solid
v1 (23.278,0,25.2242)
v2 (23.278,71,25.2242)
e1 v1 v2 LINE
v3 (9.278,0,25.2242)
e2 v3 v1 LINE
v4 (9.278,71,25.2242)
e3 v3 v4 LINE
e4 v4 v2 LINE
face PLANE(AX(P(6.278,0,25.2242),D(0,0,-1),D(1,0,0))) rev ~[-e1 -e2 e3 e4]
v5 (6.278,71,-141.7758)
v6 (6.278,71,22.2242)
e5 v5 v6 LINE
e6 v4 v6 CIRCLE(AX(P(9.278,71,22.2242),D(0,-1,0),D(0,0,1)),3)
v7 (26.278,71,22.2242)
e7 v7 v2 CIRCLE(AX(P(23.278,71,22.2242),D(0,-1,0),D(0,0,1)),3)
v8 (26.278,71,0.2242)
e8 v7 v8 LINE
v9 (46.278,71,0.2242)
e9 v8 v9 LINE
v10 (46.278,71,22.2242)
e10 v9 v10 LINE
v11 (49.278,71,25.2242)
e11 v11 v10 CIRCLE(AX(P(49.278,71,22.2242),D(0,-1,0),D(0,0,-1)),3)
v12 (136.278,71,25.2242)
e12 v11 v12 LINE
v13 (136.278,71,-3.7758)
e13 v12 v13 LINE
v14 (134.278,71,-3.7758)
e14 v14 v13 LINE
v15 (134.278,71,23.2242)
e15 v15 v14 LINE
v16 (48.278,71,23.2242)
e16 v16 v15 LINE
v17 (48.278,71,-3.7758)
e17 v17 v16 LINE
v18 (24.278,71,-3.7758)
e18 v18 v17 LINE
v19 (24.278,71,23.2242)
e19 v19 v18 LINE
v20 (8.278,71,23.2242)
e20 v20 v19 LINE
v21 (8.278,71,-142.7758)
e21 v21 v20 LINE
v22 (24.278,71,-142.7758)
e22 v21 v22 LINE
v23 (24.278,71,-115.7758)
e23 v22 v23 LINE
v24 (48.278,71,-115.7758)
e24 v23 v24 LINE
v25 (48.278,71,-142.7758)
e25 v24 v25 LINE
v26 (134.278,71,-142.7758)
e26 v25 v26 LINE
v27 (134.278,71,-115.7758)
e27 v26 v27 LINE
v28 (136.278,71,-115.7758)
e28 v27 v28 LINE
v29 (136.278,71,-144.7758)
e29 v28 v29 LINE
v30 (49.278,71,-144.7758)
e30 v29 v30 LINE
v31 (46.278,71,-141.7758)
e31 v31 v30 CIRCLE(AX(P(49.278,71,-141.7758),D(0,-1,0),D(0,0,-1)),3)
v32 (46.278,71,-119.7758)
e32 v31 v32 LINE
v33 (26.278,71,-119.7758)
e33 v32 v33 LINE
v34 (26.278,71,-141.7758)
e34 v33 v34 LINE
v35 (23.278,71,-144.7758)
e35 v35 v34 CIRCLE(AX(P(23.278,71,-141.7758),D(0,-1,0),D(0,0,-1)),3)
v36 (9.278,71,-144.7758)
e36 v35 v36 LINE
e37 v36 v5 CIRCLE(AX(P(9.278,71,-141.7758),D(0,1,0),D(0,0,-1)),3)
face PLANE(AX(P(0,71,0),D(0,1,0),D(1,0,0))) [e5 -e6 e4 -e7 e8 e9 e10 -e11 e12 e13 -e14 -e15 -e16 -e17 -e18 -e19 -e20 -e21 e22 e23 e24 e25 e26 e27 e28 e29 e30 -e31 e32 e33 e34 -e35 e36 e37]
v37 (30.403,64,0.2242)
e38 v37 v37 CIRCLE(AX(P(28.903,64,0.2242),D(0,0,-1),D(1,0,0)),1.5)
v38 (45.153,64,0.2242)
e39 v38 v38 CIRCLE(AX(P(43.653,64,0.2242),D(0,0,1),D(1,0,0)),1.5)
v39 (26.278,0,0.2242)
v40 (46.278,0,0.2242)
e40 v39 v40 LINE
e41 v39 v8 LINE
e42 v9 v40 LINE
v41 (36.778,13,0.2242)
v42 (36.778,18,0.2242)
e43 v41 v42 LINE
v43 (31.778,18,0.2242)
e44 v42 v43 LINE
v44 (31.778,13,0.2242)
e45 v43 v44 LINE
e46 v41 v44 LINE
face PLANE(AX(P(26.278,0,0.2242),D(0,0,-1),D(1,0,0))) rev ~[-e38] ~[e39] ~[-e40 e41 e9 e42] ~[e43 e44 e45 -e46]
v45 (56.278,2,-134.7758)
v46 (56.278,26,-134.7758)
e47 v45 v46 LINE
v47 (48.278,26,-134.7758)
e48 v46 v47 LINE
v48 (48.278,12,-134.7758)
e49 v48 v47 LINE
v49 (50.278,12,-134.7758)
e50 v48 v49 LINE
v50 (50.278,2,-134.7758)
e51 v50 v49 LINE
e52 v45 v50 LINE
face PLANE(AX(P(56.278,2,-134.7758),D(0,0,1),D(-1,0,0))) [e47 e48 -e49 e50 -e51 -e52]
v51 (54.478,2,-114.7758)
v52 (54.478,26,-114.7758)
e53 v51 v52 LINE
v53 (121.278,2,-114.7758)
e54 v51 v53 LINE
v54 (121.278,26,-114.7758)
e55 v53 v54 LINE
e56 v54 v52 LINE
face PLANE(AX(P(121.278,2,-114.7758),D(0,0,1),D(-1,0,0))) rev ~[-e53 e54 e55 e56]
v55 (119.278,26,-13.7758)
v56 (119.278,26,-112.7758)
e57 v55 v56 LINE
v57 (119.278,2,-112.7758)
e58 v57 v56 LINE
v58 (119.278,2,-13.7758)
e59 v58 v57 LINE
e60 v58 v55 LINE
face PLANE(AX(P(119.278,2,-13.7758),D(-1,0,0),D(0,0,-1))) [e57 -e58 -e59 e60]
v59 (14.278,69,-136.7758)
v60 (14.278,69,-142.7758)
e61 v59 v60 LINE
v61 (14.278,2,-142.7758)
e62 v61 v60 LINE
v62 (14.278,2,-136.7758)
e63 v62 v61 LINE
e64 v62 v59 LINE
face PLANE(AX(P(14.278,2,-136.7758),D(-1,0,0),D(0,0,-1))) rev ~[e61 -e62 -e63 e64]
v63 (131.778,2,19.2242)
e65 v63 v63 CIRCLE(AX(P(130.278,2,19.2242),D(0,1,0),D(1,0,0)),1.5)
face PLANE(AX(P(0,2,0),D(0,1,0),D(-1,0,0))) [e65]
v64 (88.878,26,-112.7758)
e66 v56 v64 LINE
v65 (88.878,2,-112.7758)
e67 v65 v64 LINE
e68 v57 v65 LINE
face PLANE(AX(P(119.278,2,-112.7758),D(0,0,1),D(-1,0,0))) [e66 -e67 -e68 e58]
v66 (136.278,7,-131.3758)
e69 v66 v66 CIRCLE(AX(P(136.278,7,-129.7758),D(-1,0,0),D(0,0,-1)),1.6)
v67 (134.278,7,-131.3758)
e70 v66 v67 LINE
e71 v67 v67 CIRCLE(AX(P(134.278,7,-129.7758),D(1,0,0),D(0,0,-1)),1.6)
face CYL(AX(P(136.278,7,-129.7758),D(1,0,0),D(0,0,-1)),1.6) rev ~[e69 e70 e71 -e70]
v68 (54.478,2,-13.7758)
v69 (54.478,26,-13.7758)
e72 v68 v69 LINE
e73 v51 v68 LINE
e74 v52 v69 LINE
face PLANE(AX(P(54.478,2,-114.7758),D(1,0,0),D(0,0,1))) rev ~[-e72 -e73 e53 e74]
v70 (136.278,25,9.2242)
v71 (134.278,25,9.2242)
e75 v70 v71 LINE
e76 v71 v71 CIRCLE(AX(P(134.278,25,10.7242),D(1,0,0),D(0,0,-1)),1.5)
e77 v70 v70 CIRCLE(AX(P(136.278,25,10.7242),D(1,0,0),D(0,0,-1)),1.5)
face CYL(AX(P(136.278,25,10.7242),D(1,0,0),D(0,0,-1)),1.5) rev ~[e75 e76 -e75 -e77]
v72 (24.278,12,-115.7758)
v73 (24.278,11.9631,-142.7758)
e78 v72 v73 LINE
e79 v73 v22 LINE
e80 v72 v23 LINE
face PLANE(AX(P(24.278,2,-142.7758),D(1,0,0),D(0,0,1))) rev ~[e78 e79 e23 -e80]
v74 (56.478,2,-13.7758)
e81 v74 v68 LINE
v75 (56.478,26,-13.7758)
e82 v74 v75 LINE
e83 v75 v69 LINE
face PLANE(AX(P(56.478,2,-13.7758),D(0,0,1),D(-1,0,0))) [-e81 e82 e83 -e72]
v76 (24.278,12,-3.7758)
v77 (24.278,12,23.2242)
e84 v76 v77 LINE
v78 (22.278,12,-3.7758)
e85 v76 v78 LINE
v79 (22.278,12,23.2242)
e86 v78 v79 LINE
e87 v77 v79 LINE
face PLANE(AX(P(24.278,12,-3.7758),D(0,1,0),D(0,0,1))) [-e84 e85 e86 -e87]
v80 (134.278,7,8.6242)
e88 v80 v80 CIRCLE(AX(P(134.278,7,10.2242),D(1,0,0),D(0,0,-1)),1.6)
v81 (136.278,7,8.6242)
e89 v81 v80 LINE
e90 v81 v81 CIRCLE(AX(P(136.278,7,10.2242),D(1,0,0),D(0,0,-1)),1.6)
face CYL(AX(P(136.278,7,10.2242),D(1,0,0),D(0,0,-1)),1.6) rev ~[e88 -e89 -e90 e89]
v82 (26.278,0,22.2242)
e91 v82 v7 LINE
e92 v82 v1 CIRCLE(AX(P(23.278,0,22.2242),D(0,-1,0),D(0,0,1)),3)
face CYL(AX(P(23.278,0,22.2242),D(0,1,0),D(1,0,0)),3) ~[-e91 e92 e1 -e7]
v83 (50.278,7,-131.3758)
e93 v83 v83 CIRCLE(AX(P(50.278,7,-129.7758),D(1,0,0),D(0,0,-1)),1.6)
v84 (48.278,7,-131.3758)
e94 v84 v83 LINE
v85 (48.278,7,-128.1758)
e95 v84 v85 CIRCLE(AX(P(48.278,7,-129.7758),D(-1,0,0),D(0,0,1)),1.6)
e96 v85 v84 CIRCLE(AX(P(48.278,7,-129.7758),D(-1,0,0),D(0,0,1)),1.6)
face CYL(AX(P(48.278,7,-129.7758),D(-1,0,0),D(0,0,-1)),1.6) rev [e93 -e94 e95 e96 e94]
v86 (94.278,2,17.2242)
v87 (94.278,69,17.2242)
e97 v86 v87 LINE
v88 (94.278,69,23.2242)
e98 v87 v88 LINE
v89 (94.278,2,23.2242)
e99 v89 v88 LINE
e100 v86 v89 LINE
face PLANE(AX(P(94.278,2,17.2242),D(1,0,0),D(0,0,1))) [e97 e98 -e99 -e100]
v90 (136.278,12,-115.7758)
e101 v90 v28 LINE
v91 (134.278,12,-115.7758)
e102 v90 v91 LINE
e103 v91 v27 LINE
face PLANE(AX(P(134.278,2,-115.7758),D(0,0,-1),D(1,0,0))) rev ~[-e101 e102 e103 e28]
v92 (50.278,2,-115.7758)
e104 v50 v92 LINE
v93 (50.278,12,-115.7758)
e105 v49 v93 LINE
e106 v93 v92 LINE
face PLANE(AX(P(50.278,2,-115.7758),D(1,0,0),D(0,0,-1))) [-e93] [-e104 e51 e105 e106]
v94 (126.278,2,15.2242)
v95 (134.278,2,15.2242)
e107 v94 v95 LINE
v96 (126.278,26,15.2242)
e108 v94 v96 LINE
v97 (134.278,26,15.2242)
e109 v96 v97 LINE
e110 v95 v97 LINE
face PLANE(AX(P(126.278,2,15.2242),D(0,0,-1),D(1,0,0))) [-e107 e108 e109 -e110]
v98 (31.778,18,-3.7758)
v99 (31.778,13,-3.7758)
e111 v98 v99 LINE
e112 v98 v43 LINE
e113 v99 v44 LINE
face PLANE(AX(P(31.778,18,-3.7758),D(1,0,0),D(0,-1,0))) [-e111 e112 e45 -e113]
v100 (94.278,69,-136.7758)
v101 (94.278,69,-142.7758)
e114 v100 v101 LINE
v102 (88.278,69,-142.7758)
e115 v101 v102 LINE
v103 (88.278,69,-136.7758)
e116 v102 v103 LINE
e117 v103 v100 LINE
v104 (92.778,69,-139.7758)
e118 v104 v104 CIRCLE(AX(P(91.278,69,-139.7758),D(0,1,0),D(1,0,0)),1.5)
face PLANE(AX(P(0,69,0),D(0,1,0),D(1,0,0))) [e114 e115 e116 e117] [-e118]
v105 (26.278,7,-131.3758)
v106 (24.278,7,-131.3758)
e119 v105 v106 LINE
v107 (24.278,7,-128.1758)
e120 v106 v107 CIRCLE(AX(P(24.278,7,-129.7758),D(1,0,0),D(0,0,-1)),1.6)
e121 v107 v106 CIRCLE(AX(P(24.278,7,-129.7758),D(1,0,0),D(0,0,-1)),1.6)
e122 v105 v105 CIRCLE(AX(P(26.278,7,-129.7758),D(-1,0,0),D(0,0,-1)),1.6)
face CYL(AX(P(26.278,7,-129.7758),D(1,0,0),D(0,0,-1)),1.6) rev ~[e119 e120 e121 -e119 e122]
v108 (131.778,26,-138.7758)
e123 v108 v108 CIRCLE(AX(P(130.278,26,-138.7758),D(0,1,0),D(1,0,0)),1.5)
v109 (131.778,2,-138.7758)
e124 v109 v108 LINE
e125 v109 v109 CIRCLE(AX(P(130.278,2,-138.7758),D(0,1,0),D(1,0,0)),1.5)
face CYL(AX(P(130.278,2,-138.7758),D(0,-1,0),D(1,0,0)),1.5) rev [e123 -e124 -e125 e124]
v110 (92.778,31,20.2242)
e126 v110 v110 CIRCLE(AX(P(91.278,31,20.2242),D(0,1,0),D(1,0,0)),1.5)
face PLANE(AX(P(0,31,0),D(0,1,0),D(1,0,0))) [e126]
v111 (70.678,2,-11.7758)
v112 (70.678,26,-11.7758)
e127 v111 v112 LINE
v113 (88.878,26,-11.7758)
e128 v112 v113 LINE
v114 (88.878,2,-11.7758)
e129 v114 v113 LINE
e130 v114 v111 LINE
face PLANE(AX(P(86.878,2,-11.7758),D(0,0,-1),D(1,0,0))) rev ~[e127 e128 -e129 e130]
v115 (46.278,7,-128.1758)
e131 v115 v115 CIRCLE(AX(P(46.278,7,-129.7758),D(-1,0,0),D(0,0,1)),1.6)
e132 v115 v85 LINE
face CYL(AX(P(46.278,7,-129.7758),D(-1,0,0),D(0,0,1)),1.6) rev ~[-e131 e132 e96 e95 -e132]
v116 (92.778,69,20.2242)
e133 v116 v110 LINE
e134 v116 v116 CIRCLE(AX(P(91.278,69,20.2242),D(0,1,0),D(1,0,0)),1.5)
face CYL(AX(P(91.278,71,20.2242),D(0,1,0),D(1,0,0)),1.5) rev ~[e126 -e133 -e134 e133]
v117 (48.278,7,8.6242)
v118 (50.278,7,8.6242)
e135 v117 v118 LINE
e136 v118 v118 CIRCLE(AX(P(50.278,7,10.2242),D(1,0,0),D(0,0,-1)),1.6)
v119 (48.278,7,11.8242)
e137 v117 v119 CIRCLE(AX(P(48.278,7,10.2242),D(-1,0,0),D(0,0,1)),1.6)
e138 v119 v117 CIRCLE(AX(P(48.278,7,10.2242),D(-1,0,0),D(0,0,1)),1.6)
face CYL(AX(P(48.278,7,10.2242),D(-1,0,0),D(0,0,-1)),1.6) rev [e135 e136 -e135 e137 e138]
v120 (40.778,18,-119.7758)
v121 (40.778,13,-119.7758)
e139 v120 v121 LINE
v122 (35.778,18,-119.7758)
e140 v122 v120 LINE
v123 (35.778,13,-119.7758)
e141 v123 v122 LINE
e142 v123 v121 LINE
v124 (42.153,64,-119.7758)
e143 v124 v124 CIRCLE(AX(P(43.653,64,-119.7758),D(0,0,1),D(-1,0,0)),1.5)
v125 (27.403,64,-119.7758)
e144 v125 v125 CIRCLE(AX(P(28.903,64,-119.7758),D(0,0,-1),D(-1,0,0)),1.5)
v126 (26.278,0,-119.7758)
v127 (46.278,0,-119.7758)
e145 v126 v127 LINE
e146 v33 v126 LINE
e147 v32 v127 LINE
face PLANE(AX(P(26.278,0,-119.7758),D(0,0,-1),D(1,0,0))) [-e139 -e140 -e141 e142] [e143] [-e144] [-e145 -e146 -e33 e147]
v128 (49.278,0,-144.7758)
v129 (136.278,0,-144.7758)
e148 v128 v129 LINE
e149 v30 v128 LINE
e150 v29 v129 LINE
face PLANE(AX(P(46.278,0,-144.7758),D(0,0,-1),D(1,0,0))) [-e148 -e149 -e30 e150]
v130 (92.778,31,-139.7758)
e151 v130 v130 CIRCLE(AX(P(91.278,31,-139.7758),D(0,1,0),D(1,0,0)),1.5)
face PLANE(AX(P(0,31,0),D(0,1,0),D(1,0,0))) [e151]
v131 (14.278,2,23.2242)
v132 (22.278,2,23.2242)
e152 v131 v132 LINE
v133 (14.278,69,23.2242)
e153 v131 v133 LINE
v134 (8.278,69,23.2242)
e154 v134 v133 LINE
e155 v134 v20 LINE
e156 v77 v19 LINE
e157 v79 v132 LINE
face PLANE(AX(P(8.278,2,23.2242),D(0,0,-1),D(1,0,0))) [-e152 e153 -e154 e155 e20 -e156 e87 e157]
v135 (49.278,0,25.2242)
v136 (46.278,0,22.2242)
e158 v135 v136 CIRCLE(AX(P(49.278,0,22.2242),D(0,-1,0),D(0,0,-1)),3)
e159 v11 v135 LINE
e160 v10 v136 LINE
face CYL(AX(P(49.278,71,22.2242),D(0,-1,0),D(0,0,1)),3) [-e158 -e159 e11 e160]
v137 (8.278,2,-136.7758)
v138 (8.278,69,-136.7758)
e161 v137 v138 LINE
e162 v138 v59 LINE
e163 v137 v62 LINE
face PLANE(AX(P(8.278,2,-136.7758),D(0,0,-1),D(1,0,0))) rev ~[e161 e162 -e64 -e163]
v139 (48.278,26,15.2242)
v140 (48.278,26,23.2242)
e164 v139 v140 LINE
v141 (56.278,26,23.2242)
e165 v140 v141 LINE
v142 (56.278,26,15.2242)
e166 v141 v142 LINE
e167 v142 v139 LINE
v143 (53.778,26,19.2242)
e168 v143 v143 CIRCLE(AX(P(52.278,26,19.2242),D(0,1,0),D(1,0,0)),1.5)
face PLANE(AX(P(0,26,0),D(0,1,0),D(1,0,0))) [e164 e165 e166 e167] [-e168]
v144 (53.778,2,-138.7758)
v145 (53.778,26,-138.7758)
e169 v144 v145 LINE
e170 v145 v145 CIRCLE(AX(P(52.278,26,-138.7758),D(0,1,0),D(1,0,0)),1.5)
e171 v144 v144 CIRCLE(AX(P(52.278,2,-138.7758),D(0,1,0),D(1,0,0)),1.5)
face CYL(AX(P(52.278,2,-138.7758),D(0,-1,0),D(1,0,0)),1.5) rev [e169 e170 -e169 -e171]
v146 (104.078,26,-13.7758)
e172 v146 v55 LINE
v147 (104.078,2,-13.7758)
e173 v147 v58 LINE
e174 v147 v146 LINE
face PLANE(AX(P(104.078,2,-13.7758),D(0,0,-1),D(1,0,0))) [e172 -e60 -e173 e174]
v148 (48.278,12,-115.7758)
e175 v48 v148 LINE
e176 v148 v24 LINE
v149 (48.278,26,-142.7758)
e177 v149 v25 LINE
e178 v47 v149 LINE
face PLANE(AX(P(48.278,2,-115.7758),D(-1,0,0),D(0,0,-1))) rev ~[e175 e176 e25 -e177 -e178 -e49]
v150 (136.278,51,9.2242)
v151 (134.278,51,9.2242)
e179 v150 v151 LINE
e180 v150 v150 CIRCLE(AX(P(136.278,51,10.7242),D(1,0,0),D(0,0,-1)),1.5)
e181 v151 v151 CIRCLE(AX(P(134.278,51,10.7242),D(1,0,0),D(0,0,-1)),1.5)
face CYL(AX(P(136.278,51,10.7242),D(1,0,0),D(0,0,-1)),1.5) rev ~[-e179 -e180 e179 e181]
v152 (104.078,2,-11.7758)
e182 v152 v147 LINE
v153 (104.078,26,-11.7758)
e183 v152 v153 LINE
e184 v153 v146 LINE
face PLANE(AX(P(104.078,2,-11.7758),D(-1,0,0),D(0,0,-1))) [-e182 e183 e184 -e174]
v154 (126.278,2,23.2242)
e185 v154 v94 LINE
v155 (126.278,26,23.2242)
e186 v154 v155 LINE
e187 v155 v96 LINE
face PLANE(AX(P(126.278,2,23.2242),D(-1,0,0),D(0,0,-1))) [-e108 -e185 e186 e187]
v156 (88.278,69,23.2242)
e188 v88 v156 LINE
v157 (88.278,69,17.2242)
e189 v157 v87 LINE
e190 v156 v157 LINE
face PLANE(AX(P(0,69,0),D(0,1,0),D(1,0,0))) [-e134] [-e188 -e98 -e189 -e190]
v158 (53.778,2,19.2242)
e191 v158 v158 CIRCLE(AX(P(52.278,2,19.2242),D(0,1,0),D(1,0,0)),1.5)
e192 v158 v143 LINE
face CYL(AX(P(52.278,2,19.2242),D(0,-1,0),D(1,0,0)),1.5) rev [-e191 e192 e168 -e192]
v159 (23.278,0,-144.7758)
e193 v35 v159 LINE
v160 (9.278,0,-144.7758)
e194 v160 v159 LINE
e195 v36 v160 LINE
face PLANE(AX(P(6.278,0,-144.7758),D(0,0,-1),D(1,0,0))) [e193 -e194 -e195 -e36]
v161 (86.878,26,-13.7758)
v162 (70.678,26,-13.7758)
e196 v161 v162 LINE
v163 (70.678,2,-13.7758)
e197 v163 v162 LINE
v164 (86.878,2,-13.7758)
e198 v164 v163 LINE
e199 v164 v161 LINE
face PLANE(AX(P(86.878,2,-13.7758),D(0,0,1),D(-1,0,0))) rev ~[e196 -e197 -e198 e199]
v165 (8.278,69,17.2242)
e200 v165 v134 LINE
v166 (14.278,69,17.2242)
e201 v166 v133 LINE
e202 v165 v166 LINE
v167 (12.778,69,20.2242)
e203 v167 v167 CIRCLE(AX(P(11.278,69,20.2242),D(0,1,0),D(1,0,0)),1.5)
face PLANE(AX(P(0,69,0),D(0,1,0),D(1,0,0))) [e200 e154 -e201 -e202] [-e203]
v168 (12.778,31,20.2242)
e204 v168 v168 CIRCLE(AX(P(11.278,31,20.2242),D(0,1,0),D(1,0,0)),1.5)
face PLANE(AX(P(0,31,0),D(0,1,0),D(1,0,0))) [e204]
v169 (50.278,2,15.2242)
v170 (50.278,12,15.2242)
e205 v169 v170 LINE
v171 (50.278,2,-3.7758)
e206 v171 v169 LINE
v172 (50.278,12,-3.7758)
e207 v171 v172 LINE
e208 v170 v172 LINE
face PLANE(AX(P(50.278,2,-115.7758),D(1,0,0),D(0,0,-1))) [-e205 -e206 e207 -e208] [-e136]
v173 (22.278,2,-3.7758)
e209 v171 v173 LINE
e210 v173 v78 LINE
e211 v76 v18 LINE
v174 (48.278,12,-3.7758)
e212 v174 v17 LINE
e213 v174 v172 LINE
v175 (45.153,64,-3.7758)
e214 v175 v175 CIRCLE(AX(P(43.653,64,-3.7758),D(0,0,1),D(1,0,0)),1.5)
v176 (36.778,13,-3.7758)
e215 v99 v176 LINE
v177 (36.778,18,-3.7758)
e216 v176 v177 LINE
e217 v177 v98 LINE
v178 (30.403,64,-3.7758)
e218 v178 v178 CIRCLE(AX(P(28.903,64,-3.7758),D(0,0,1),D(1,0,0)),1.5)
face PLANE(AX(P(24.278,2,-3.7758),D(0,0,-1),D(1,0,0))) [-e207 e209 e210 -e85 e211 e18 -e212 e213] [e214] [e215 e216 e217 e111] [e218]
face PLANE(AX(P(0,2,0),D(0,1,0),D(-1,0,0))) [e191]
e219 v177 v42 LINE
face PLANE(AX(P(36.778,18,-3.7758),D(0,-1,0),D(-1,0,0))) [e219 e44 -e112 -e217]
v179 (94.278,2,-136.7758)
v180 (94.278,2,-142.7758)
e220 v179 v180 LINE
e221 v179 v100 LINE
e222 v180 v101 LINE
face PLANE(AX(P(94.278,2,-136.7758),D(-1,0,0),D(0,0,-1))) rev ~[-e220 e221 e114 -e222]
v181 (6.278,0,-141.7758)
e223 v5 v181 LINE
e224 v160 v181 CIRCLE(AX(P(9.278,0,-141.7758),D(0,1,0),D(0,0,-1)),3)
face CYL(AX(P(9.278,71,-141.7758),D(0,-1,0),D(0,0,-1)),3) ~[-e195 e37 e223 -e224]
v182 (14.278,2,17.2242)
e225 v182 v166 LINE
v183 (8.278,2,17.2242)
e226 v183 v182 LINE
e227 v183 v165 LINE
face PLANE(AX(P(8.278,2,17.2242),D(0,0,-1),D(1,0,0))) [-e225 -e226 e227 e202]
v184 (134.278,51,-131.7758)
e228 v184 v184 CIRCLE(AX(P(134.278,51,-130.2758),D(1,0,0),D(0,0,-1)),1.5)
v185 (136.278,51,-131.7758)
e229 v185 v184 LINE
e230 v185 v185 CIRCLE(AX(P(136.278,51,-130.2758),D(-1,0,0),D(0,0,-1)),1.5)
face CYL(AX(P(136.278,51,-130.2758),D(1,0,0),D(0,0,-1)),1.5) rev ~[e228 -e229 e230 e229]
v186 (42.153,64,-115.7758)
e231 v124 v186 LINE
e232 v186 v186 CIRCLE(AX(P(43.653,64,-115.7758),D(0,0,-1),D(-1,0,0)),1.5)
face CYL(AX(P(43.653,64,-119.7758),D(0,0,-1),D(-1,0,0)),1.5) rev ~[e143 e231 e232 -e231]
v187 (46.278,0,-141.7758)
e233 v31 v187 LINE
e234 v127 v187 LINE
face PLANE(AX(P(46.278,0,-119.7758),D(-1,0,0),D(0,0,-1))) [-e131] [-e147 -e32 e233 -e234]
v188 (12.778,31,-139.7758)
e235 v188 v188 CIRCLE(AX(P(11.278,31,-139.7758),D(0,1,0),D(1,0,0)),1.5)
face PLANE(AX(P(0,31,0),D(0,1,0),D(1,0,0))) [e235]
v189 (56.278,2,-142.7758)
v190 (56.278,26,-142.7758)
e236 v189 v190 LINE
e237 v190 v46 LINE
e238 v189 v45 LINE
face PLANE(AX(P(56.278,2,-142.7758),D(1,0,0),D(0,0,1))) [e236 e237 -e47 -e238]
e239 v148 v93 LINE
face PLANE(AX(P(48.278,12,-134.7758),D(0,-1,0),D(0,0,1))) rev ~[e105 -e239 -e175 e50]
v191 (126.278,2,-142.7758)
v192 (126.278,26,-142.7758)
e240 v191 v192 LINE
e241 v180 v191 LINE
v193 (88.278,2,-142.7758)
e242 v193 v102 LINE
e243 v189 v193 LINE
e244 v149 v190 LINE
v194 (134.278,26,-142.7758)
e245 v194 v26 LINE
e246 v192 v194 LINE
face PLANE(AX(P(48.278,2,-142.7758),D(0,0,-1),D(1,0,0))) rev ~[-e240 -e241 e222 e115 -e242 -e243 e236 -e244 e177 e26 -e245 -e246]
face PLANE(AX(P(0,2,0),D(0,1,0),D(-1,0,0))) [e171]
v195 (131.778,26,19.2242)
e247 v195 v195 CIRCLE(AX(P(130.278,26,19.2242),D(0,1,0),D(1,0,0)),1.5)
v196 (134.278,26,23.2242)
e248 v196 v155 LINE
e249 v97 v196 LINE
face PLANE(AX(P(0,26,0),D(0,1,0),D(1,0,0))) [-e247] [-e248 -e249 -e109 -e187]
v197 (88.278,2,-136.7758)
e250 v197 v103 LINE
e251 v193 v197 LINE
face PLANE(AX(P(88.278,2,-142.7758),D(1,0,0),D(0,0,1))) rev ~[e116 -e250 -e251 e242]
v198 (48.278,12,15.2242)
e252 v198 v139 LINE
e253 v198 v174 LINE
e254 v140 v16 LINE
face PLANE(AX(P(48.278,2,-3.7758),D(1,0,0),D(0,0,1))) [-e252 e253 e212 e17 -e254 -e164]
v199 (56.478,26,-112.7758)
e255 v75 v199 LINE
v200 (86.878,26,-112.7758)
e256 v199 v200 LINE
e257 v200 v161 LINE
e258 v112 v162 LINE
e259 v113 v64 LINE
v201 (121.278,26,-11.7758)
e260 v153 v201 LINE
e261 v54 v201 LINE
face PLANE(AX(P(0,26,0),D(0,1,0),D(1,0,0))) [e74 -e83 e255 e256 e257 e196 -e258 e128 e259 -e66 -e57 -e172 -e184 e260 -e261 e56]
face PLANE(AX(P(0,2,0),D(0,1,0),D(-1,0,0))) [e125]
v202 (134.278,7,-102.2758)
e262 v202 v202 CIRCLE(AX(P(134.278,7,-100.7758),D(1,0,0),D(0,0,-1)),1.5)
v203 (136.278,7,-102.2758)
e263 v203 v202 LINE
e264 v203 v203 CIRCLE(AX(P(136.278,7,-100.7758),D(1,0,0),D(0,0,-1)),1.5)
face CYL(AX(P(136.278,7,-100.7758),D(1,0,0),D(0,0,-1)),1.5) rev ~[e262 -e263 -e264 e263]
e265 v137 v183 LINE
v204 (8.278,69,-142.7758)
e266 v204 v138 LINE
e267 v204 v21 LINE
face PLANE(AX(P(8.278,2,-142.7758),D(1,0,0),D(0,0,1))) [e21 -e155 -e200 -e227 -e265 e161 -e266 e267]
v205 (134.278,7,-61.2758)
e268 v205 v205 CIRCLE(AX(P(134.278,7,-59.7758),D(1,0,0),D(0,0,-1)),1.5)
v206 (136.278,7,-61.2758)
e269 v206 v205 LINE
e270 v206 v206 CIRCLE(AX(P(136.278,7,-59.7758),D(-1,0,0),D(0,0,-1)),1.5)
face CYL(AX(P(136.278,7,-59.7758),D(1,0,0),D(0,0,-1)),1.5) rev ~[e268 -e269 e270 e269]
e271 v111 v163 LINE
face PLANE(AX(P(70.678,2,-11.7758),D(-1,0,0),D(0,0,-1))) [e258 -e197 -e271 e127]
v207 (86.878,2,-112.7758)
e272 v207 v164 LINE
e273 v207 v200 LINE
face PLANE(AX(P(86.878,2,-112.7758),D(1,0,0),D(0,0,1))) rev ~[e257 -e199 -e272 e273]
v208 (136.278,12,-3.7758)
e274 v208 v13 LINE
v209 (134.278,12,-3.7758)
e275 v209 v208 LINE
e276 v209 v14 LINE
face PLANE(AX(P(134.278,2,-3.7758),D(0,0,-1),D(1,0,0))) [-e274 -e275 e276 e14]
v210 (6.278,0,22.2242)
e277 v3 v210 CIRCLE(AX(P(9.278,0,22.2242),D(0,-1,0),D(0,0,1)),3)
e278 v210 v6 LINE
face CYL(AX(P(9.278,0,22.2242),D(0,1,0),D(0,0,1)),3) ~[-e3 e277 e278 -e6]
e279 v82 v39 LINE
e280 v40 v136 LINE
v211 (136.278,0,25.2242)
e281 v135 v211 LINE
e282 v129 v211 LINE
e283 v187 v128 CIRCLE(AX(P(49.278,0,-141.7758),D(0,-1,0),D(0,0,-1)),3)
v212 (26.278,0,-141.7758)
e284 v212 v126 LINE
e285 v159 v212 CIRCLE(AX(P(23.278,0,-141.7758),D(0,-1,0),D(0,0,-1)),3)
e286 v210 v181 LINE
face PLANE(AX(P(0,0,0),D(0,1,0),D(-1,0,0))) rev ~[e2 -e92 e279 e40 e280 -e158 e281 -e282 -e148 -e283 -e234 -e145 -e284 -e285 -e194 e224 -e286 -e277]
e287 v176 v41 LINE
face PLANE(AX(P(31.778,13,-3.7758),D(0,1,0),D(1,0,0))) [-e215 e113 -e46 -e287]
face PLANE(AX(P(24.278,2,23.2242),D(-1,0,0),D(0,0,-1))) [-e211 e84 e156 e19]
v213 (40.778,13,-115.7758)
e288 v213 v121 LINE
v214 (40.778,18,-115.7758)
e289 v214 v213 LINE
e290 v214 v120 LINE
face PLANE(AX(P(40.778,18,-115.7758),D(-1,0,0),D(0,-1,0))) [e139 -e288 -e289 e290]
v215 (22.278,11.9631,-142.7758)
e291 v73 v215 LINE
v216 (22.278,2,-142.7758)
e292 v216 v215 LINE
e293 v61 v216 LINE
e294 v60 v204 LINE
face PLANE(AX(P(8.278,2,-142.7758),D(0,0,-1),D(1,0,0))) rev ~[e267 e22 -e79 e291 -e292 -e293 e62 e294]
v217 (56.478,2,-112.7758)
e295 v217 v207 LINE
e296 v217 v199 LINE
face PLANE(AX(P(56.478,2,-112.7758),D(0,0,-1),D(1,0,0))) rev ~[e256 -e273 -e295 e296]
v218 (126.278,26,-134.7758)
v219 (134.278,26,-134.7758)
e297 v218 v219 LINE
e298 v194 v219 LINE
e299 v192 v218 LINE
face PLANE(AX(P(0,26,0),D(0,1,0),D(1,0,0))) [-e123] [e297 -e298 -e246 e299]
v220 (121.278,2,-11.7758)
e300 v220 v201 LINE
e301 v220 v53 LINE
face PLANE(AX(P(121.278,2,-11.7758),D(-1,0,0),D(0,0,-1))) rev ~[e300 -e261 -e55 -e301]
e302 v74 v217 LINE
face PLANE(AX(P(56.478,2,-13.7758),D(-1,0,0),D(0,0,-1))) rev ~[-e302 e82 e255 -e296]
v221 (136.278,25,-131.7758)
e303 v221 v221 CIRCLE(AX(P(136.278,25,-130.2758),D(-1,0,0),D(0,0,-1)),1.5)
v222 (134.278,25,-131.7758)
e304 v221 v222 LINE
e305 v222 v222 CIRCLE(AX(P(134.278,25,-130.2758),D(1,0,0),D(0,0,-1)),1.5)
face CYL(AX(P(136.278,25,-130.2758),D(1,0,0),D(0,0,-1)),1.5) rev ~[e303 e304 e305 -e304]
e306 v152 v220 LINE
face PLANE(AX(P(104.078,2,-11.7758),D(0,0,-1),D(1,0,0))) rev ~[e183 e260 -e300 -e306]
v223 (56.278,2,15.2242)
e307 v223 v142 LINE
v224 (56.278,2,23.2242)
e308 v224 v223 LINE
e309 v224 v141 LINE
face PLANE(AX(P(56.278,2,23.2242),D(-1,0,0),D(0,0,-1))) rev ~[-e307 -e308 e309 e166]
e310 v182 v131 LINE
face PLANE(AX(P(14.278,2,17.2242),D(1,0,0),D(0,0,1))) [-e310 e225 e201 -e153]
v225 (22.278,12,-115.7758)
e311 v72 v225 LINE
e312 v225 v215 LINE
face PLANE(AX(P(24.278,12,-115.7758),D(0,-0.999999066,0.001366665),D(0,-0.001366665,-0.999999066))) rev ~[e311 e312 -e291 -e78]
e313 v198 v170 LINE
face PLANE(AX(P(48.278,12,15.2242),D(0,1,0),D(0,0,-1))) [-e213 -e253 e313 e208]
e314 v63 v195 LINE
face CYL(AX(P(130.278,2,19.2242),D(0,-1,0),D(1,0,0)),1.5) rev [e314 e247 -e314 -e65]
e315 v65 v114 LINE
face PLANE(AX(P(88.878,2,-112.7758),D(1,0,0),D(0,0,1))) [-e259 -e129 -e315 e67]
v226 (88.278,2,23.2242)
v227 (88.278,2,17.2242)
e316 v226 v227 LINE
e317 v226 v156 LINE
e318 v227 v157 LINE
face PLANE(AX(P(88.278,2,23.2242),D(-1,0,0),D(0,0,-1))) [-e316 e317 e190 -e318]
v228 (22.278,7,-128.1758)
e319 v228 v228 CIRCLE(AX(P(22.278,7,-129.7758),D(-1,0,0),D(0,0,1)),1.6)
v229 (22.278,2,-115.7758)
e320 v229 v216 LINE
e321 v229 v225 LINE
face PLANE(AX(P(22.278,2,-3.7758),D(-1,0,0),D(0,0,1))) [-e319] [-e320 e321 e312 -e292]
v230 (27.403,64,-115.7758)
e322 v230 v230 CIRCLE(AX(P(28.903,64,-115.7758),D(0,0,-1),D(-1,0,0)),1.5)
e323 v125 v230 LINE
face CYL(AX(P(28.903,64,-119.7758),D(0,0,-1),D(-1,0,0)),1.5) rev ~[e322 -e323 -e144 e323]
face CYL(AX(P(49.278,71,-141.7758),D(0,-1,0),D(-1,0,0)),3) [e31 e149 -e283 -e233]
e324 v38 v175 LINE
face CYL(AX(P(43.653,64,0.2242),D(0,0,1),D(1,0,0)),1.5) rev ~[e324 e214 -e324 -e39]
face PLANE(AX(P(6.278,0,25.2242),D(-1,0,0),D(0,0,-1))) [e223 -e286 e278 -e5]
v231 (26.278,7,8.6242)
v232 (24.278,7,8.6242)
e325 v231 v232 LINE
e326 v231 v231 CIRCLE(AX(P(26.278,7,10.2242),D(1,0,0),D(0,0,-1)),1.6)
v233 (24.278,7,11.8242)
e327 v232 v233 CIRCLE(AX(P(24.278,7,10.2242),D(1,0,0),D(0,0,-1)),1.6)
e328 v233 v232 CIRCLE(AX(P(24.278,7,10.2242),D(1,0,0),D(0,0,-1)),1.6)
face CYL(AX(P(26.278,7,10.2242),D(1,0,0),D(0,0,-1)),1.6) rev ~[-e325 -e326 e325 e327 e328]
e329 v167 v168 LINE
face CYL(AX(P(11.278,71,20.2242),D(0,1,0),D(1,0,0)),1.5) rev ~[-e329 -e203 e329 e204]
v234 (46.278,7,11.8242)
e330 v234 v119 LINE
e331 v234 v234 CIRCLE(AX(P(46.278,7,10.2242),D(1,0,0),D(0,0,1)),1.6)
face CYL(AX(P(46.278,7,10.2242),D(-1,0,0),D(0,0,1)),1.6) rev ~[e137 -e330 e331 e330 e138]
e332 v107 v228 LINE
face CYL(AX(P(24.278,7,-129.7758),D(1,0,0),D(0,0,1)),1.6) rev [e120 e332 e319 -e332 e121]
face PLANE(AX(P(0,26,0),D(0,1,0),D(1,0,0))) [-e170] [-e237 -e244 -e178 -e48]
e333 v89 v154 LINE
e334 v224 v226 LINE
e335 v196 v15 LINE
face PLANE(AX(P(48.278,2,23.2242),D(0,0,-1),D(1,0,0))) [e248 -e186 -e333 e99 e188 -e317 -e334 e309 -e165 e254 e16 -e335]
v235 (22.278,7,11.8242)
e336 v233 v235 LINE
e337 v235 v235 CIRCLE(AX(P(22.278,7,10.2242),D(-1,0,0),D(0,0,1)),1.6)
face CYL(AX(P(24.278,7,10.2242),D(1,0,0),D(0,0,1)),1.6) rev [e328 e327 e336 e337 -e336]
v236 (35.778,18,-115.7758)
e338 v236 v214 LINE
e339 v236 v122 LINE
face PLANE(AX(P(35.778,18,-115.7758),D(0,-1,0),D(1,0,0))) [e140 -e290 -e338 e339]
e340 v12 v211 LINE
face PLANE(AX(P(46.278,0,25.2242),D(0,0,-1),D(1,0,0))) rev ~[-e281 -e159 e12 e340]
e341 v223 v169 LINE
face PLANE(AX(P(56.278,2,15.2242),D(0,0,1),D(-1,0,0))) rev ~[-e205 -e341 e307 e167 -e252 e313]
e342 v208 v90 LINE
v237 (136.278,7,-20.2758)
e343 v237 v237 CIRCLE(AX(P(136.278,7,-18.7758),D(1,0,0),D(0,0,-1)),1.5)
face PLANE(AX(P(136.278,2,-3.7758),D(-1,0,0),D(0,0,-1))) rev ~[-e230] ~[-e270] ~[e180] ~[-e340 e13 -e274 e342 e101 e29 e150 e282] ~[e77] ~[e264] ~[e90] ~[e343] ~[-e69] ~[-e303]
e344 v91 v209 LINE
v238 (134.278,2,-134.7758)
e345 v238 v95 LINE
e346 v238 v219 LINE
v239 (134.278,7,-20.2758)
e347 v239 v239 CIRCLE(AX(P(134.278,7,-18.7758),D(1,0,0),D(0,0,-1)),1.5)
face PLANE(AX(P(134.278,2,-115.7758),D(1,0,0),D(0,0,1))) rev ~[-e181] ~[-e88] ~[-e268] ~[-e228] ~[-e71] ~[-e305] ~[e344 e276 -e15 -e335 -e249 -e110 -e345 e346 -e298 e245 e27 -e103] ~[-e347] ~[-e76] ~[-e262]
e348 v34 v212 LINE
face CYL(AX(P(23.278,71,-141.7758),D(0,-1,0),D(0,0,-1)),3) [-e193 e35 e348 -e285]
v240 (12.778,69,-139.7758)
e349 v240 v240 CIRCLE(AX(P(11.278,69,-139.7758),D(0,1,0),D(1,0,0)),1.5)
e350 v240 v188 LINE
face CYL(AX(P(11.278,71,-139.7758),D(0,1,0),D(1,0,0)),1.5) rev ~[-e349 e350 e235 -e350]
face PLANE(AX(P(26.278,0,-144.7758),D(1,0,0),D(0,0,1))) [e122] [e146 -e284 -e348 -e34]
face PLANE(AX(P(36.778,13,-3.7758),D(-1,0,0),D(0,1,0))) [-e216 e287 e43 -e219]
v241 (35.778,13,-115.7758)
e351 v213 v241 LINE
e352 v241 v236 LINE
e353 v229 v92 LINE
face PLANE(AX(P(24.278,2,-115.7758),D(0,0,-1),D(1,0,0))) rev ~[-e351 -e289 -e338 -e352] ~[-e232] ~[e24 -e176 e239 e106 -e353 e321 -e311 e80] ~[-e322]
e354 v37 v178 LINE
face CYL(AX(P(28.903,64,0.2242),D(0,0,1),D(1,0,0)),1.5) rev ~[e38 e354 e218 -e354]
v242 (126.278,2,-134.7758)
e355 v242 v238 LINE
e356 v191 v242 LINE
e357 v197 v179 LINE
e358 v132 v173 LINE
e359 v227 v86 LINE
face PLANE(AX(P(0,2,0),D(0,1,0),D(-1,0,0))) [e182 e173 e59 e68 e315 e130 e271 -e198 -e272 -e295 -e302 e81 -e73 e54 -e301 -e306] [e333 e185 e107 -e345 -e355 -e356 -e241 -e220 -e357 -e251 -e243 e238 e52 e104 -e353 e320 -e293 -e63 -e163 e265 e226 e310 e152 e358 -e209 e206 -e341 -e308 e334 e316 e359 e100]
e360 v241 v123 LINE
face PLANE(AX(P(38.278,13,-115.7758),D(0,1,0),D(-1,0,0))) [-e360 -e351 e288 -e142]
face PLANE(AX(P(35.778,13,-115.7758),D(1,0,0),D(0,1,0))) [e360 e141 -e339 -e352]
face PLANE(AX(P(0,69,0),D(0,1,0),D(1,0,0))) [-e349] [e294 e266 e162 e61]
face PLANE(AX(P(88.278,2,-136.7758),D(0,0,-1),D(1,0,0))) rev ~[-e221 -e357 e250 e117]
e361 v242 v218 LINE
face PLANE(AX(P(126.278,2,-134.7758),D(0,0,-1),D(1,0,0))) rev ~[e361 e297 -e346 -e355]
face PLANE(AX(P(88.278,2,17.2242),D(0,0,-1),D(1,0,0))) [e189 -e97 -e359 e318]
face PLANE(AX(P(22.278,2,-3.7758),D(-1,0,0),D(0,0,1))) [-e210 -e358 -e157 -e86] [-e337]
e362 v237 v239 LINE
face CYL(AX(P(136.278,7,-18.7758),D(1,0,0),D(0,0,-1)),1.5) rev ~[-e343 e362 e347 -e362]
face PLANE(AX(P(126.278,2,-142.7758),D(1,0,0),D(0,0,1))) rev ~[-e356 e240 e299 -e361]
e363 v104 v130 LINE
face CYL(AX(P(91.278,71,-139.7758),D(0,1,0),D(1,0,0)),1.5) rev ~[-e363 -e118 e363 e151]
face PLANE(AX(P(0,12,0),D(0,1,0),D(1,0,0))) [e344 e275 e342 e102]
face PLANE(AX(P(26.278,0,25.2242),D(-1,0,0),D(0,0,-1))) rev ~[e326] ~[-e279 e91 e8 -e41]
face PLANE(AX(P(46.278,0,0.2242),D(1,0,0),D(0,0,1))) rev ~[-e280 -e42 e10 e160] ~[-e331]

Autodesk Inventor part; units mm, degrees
ref_plane "YZ Plane" through (0, 0, 0) normal (1, 0, 0) x (0, 1, 0)
ref_plane "XZ Plane" through (0, 0, 0) normal (0, 1, 0) x (-1, 0, 0)
ref_plane "XY Plane" through (0, 0, 0) normal (0, 0, 1) x (1, 0, 0)
sketch "Sketch1" plane through (0, 0, 0) normal (0, 1, 0) x (-1, 0, 0)
  line L0 (-6.278, 25.2242) -> (-6.278, -144.7758)
  line L1 (-6.278, -144.7758) -> (-26.278, -144.7758)
  line L2 (-26.278, -144.7758) -> (-26.278, -119.7758)
  line L3 (-26.278, -119.7758) -> (-46.278, -119.7758)
  line L4 (-46.278, -119.7758) -> (-46.278, -144.7758)
  line L5 (-46.278, -144.7758) -> (-136.278, -144.7758)
  line L6 (-136.278, -144.7758) -> (-136.278, -134.7758)
  line L7 (-6.278, 25.2242) -> (-26.278, 25.2242)
  line L8 (-26.278, 25.2242) -> (-26.278, 0.2242)
  line L9 (-26.278, 0.2242) -> (-46.278, 0.2242)
  line L10 (-46.278, 0.2242) -> (-46.278, 25.2242)
  line L11 (-46.278, 25.2242) -> (-136.278, 25.2242)
  line L12 (-136.278, 25.2242) -> (-136.278, 15.2242)
  line L13 (-136.278, 15.2242) -> (-136.278, -134.7758)
  point P0 (0, 0)
  dimension "d0" = 170
  dimension "d1" = 20
  dimension "d3" = 20
  dimension "d4" = 90
  dimension "d80" = 20
  dimension "d81" = 150
  dimension "d82" = 10
  dimension "d83" = 10
  dimension "d84" = 90
  dimension "d226" = 25
  dimension "d227" = 25
  dimension "d228" = 25
extrude "Extrusion1" add sketch "Sketch1" along normal blind 2
sketch "Sketch2" plane through (0, 2, 0) normal (0, 1, 0) x (1, 0, 0)
  line L0 (6.278, 144.7758) -> (6.278, -25.2242) projected
  line L1 (6.278, -25.2242) -> (26.278, -25.2242) projected
  line L2 (26.278, -25.2242) -> (26.278, -0.2242) projected
  line L3 (26.278, -0.2242) -> (46.278, -0.2242) projected
  line L4 (46.278, -0.2242) -> (46.278, -25.2242) projected
  line L5 (46.278, -25.2242) -> (136.278, -25.2242) projected
  line L6 (136.278, -25.2242) -> (136.278, 144.7758) projected
  line L7 (136.278, 144.7758) -> (46.278, 144.7758) projected
  line L8 (46.278, 144.7758) -> (46.278, 119.7758) projected
  line L9 (46.278, 119.7758) -> (26.278, 119.7758) projected
  line L10 (26.278, 119.7758) -> (26.278, 144.7758) projected
  line L11 (26.278, 144.7758) -> (6.278, 144.7758) projected
  line L12 (8.278, 142.7758) -> (24.278, 142.7758)
  line L13 (24.278, 142.7758) -> (24.278, 115.7758)
  line L14 (24.278, 115.7758) -> (48.278, 115.7758)
  line L15 (48.278, 115.7758) -> (48.278, 142.7758)
  line L16 (48.278, 142.7758) -> (134.278, 142.7758)
  line L17 (134.278, 142.7758) -> (134.278, 115.7758)
  line L18 (8.278, 142.7758) -> (8.278, -23.2242)
  line L19 (8.278, -23.2242) -> (24.278, -23.2242)
  line L20 (24.278, -23.2242) -> (24.278, 3.7758)
  line L21 (24.278, 3.7758) -> (48.278, 3.7758)
  line L22 (48.278, 3.7758) -> (48.278, -23.2242)
  line L23 (48.278, -23.2242) -> (134.278, -23.2242)
  line L24 (134.278, -23.2242) -> (134.278, 3.7758)
  line L25 (134.278, 3.7758) -> (136.278, 3.7758)
  line L26 (134.278, 115.7758) -> (136.278, 115.7758)
  point P0 (0, 0)
  dimension "d7" = 2
  dimension "d8" = 2
  dimension "d9" = 2
  dimension "d10" = 4
  dimension "d11" = 2
  dimension "d13" = 2
  dimension "d14" = 2
  dimension "d15" = 4
  dimension "d16" = 2
  dimension "d17" = 2
  dimension "d18" = 2
  dimension "d19" = 2
  dimension "d20" = 2
  dimension "d21" = 27
  dimension "d22" = 27
extrude "Extrusion2" add sketch "Sketch2" along normal blind 69 contours L11 L10 L9 L8 L7 L6 L26 L17 L16 L15 L14 L13 L12 L18 L19 L20 L21 L22 L23 L24 L25 L5 L4 L3 L2 L1 L0
sketch "Sketch3" plane through (0, 2, 0) normal (0, 1, 0) x (1, 0, 0)
  line L0 (134.278, 3.7758) -> (136.278, 3.7758) projected
  line L1 (136.278, 3.7758) -> (136.278, 115.7758) projected
  line L2 (136.278, 115.7758) -> (134.278, 115.7758) projected
  line L3 (134.278, -23.2242) -> (134.278, 3.7758) projected
  line L4 (134.278, 115.7758) -> (134.278, 3.7758)
  point P0 (0, 0)
extrude "Extrusion3" add sketch "Sketch3" along normal blind 10
sketch "Sketch4" plane through (136.278, 0, 25.2242) normal (1, 0, 0) x (0, 0, -1)
  line L0 (170, 0) -> (0, 0) projected
  line L1 (141, 71) -> (170, 71) projected
  line L2 (29, 12) -> (141, 12) projected
  line L3 (0, 0) -> (0, 71) projected
  line L4 (85, 12) -> (85, 7)
  circle A0 centre (85, 7) radius 1.5
  line L5 (29, 12) -> (44, 12)
  circle A1 centre (44, 7) radius 1.5
  line L6 (141, 12) -> (126, 12)
  circle A2 centre (126, 7) radius 1.5
  line L7 (155.5, 71) -> (155.5, 51)
  line L8 (155.5, 0) -> (155.5, 25)
  circle A3 centre (155.5, 25) radius 1.5
  circle A4 centre (155.5, 51) radius 1.5
  circle A5 centre (14.5, 25) radius 1.5
  circle A6 centre (14.5, 51) radius 1.5
  line L9 (141, 12) -> (141, 71) projected
  line L10 (29, 12) -> (29, 71) projected
  line L11 (170, 0) -> (170, 71) projected
  point P0 (25.2242, 0)
  dimension "d27" = 5
  dimension "d28" = 3
  dimension "d30" = 15
  dimension "d31" = 3
  dimension "d32" = 15
  dimension "d33" = 3
  dimension "d34" = 20
  dimension "d35" = 25
  dimension "d36" = 3
  dimension "d37" = 3
  dimension "d85" = 15
  dimension "d86" = 15
  dimension "d87" = 14.5
extrude "Extrusion4" cut sketch "Sketch4" against normal blind 2
sketch "Sketch5" plane through (46.278, 0, 0.2242) normal (-1, 0, 0) x (0, 0, 1)
  line L0 (0, 0) -> (0, 71) projected
  line L1 (0, 0) -> (0, 7)
  line L2 (0, 7) -> (10, 7)
  circle A0 centre (10, 7) radius 1.6
  point P0 (-0.2242, 0)
  dimension "d40" = 7
  dimension "d41" = 10
  dimension "d42" = 3.2
extrude "Extrusion5" cut sketch "Sketch5" against normal blind 4
sketch "Sketch6" plane through (26.278, 0, 25.2242) normal (1, 0, 0) x (0, 0, -1)
  line L0 (25, 0) -> (25, 71) projected
  line L1 (25, 0) -> (25, 7)
  line L2 (25, 7) -> (15, 7)
  circle A0 centre (15, 7) radius 1.6
  point P0 (25.2242, 0)
  dimension "d45" = 7
  dimension "d46" = 10
  dimension "d47" = 3.2
extrude "Extrusion6" cut sketch "Sketch6" against normal blind 4
sketch "Sketch7" plane through (26.278, 0, -119.7758) normal (1, 0, 0) x (0, 0, -1)
  line L0 (0, 0) -> (0, 71) projected
  line L1 (0, 0) -> (0, 7)
  line L2 (0, 7) -> (10, 7)
  circle A0 centre (10, 7) radius 1.6
  point P0 (-119.7758, 0)
  dimension "d50" = 7
  dimension "d51" = 10
  dimension "d52" = 3.2
extrude "Extrusion7" cut sketch "Sketch7" against normal blind 4
sketch "Sketch8" plane through (46.278, 0, -144.7758) normal (-1, 0, 0) x (0, 0, 1)
  line L0 (25, 0) -> (25, 71) projected
  line L1 (25, 0) -> (25, 7)
  line L2 (25, 7) -> (15, 7)
  circle A0 centre (15, 7) radius 1.6
  point P0 (144.7758, 0)
  dimension "d55" = 7
  dimension "d56" = 10
  dimension "d57" = 3.2
extrude "Extrusion8" cut sketch "Sketch8" against normal blind 4
sketch "Sketch9" plane through (136.278, 0, 25.2242) normal (1, 0, 0) x (0, 0, -1)
  line L0 (170, 0) -> (0, 0) projected
  line L1 (0, 0) -> (0, 71) projected
  line L2 (32, 0) -> (32, 7)
  line L3 (32, 7) -> (15, 7)
  line L4 (148, 0) -> (148, 7)
  line L5 (148, 7) -> (155, 7)
  circle A0 centre (15, 7) radius 1.6
  circle A1 centre (155, 7) radius 1.6
  line L6 (145, 0) -> (145, 71) projected
  line L7 (25, 0) -> (25, 71) projected
  point P0 (25.2242, 0)
  dimension "d60" = 7
  dimension "d63" = 3.2
  dimension "d64" = 3.2
  dimension "d292" = 10
  dimension "d293" = 10
extrude "Extrusion9" cut sketch "Sketch9" against normal blind 2 contours A0 | A1
sketch "Sketch10" plane through (46.278, 0, -119.7758) normal (0, 0, -1) x (-1, 0, 0)
  line L0 (0, 71) -> (20, 71) projected
  line L1 (0, 0) -> (0, 71) projected
  line L2 (0, 71) -> (0, 64)
  line L3 (0, 64) -> (2.625, 64)
  circle A0 centre (2.625, 64) radius 1.5
  line L4 (10, 71) -> (10, 65.5)
  circle A1 centre (17.375, 64) radius 1.5
  point P0 (46.278, 0)
  dimension "d67" = 7
  dimension "d68" = 2.625
  dimension "d69" = 3
extrude "Extrusion10" cut sketch "Sketch10" against normal blind 4
sketch "Sketch11" plane through (26.278, 0, 0.2242) normal (0, 0, 1) x (1, 0, 0)
  line L0 (0, 71) -> (20, 71) projected
  line L1 (0, 0) -> (0, 71) projected
  line L2 (0, 71) -> (0, 64)
  line L3 (0, 64) -> (2.625, 64)
  circle A0 centre (2.625, 64) radius 1.5
  line L4 (10, 71) -> (10, 51.1335)
  circle A1 centre (17.375, 64) radius 1.5
  point P0 (-26.278, 0)
  dimension "d72" = 7
  dimension "d73" = 2.625
  dimension "d74" = 3
extrude "Extrusion11" cut sketch "Sketch11" against normal blind 4
sketch "Sketch12" plane through (0, 2, 0) normal (0, 1, 0) x (1, 0, 0)
  line L0 (48.278, -23.2242) -> (134.278, -23.2242) projected
  line L1 (91.278, -23.2242) -> (88.278, -23.2242)
  line L2 (91.278, -23.2242) -> (94.278, -23.2242)
  line L3 (88.278, -23.2242) -> (88.278, -17.2242)
  line L4 (88.278, -17.2242) -> (94.278, -17.2242)
  line L5 (94.278, -17.2242) -> (94.278, -23.2242)
  line L6 (134.278, -23.2242) -> (134.278, 142.7758) projected
  line L7 (48.278, 3.7758) -> (48.278, -23.2242) projected
  line L8 (134.278, 59.7758) -> (89.3363, 59.7758)
  line L9 (88.278, 142.7758) -> (88.278, 136.7758)
  line L10 (88.278, 136.7758) -> (94.278, 136.7758)
  line L11 (94.278, 136.7758) -> (94.278, 142.7758)
  line L12 (134.278, 142.7758) -> (48.278, 142.7758) projected
  line L13 (88.278, 142.7758) -> (94.278, 142.7758)
  line L14 (136.278, -25.2242) -> (136.278, 3.7758) projected
  point P0 (0, 0)
  dimension "d88" = 3
  dimension "d89" = 3
  dimension "d103" = 6
  dimension "d167" = 40
  dimension "d168" = 40
sketch "Sketch13" plane through (0, 2, 0) normal (0, 1, 0) x (1, 0, 0)
  line L0 (24.278, 142.7758) -> (8.278, 142.7758) projected
  line L1 (8.278, 142.7758) -> (8.278, -23.2242) projected
  line L2 (8.278, -23.2242) -> (24.278, -23.2242) projected
  line L3 (8.278, -23.2242) -> (8.278, -17.2242)
  line L4 (8.278, -17.2242) -> (14.278, -17.2242)
  line L5 (14.278, -17.2242) -> (14.278, -23.2242)
  line L6 (8.278, 142.7758) -> (8.278, 136.7758)
  line L7 (8.278, 136.7758) -> (14.278, 136.7758)
  line L8 (14.278, 136.7758) -> (14.278, 142.7758)
  point P0 (0, 0)
  dimension "d95" = 6
  dimension "d96" = 6
  dimension "d97" = 6
  dimension "d98" = 6
extrude "Extrusion13" add sketch "Sketch13" along normal blind 67
extrude "Extrusion14" add sketch "Sketch12" along normal blind 67
sketch "Sketch14" plane through (0, 71, 0) normal (0, 1, 0) x (1, 0, 0)
  circle A0 centre (11.278, -20.2242) radius 1.5
  circle A1 centre (11.278, 139.7758) radius 1.5
  circle A2 centre (91.278, 139.7758) radius 1.5
  circle A3 centre (91.278, -20.2242) radius 1.5
  line L0 (48.278, 142.7758) -> (134.278, 142.7758) projected
  line L1 (88.278, 136.7758) -> (94.278, 136.7758) projected
  line L2 (134.278, -23.2242) -> (48.278, -23.2242) projected
  line L3 (24.278, -23.2242) -> (8.278, -23.2242) projected
  line L4 (8.278, -23.2242) -> (8.278, 142.7758) projected
  line L5 (8.278, 136.7758) -> (14.278, 136.7758) projected
  line L6 (88.278, 136.7758) -> (88.278, 142.7758) projected
  line L7 (88.278, -17.2242) -> (88.278, -23.2242) projected
  point P0 (0, 0)
  dimension "d104" = 3
  dimension "d105" = 3
  dimension "d221" = 3
  dimension "d222" = 6
  dimension "d229" = 3
  dimension "d230" = 3
  dimension "d231" = 3
  dimension "d232" = 3
  dimension "d233" = 3
  dimension "d308" = 3
  dimension "d309" = 3
extrude "Extrusion15" cut sketch "Sketch14" against normal blind 40
sketch "Sketch22" plane through (24.278, 2, -115.7758) normal (0, 0, 1) x (1, 0, 0)
  line L0 (28, 0) -> (0, 0)
  line L1 (0, 0) -> (0, 69)
  line L2 (14, 0) -> (14, 11)
  line L3 (14, 11) -> (11.5, 11)
  line L4 (11.5, 11) -> (11.5, 16)
  line L5 (11.5, 16) -> (16.5, 16)
  line L6 (16.5, 16) -> (16.5, 11)
  line L7 (16.5, 11) -> (14, 11)
  point P0 (-24.278, -2)
  point P1 (-40.2395, -2)
  dimension "d167" = 40
  dimension "d168" = 40
  dimension "d209" = 11
  dimension "d210" = 2.5
  dimension "d211" = 5
  dimension "d212" = 5
extrude "Extrusion22" cut sketch "Sketch22" against normal blind 4
sketch "Sketch23" plane through (48.278, 2, -3.7758) normal (0, 0, -1) x (-1, 0, 0)
  line L0 (28, 0) -> (0, 0)
  line L1 (0, 0) -> (0, 69)
  line L2 (14, 0) -> (14, 11)
  line L3 (14, 11) -> (11.5, 11)
  line L4 (11.5, 11) -> (11.5, 16)
  line L5 (11.5, 16) -> (16.5, 16)
  line L6 (16.5, 16) -> (16.5, 11)
  line L7 (16.5, 11) -> (14, 11)
  point P0 (48.278, -2)
  point P1 (-40.2395, -2)
  dimension "d215" = 11
  dimension "d216" = 2.5
  dimension "d217" = 5
  dimension "d218" = 5
extrude "Extrusion23" cut sketch "Sketch23" against normal blind 4
sketch "Sketch33" plane through (0, 2, 0) normal (0, 1, 0) x (1, 0, 0)
  circle A0 centre (130.278, 138.7758) radius 1.5
  circle A1 centre (52.278, 138.7758) radius 1.5
  circle A2 centre (130.278, -19.2242) radius 1.5
  circle A3 centre (52.278, -19.2242) radius 1.5
  line L0 (48.278, 142.7758) -> (134.278, 142.7758) projected
  line L1 (134.278, 142.7758) -> (134.278, 115.7758) projected
  line L2 (134.278, -23.2242) -> (126.278, -23.2242)
  line L3 (126.278, -23.2242) -> (126.278, -15.2242)
  line L4 (126.278, -15.2242) -> (134.278, -15.2242)
  line L5 (134.278, -15.2242) -> (134.278, -23.2242)
  line L6 (134.278, 142.7758) -> (126.278, 142.7758)
  line L7 (126.278, 142.7758) -> (126.278, 134.7758)
  line L8 (126.278, 134.7758) -> (134.278, 134.7758)
  line L9 (134.278, 134.7758) -> (134.278, 142.7758)
  line L10 (48.278, 142.7758) -> (56.278, 142.7758)
  line L11 (56.278, 142.7758) -> (56.278, 134.7758)
  line L12 (56.278, 134.7758) -> (48.278, 134.7758)
  line L13 (48.278, 134.7758) -> (48.278, 142.7758)
  line L14 (48.278, -23.2242) -> (56.278, -23.2242)
  line L15 (56.278, -23.2242) -> (56.278, -15.2242)
  line L16 (56.278, -15.2242) -> (48.278, -15.2242)
  line L17 (48.278, -15.2242) -> (48.278, -23.2242)
  point P0 (0, 0)
  point P1 (0, 0)
  dimension "d329" = 78
  dimension "d331" = 4
  dimension "d332" = 158
  dimension "d333" = 158
  dimension "d334" = 78
  dimension "d335" = 4
  dimension "d336" = 8
  dimension "d337" = 8
  dimension "d338" = 8
  dimension "d339" = 8
  dimension "d340" = 8
  dimension "d341" = 8
  dimension "d342" = 8
  dimension "d343" = 8
extrude "Extrusion28" add sketch "Sketch33" along normal blind 24
sketch "Sketch34" plane through (0, 2, 0) normal (0, 1, 0) x (1, 0, 0)
  line L0 (134.278, 13.7758) -> (119.278, 13.7758)
  line L1 (134.278, 115.7758) -> (134.278, 3.7758) projected
  line L2 (119.278, 13.7758) -> (119.278, 112.7758)
  line L3 (119.278, 112.7758) -> (88.878, 112.7758)
  line L4 (88.878, 112.7758) -> (88.878, 13.7758)
  line L5 (88.878, 13.7758) -> (119.278, 13.7758)
  line L6 (88.878, 13.7758) -> (88.878, 11.7758)
  line L7 (88.878, 11.7758) -> (121.278, 11.7758)
  line L8 (121.278, 11.7758) -> (121.278, 114.7758)
  line L9 (121.278, 114.7758) -> (86.878, 114.7758)
  line L10 (86.878, 114.7758) -> (86.878, 11.7758)
  line L11 (86.878, 11.7758) -> (88.878, 11.7758)
  line L12 (104.078, 11.7758) -> (104.078, 13.7758)
  line L13 (86.878, 114.7758) -> (54.478, 114.7758)
  line L14 (54.478, 114.7758) -> (54.478, 11.7758)
  line L15 (54.478, 11.7758) -> (86.878, 11.7758)
  line L16 (88.878, 13.7758) -> (86.878, 13.7758)
  line L17 (86.878, 13.7758) -> (56.478, 13.7758)
  line L18 (56.478, 13.7758) -> (56.478, 112.7758)
  line L19 (56.478, 112.7758) -> (86.878, 112.7758)
  line L20 (70.678, 11.7758) -> (70.678, 13.7758)
  line L21 (48.278, 142.7758) -> (134.278, 142.7758) projected
  line L22 (56.478, 13.7758) -> (54.478, 13.7758)
  point P0 (0, 0)
  dimension "d346" = 15
  dimension "d347" = 0
  dimension "d348" = 30.4
  dimension "d349" = 2
  dimension "d350" = 2
  dimension "d352" = 2
  dimension "d353" = 2
  dimension "d354" = 99
  dimension "d355" = 2
  dimension "d356" = 34.4
  dimension "d357" = 32.4
  dimension "d358" = 30.4
  dimension "d359" = 28
  dimension "d360" = 2
extrude "Extrusion29" add sketch "Sketch34" along normal blind 24 contours L8 L7 L12 L5 L0 | L0 L2 L3 L4 L16 L10 L9 L8 | L10 L19 L18 L22 L14 L13 | L6 L11 L10 L16 | L10 L15 L20 L17
fillet "Fillet1" radius 3 6 edges at (46.278, 35.5, 25.2242) (26.278, 35.5, 25.2242) (6.278, 35.5, 25.2242) (6.278, 35.5, -144.7758) (26.278, 35.5, -144.7758) (46.278, 35.5, -144.7758)
sketch "Sketch35" plane through (48.278, 2, -115.7758) normal (1, 0, 0) x (0, 0, -1)
  line L0 (19, 0) -> (0, 0) projected
  line L1 (19, 0) -> (19, 10)
  line L2 (19, 0) -> (19, 24) projected
  line L3 (19, 10) -> (0, 10)
  line L4 (0, 10) -> (0, 0)
  line L5 (0, 0) -> (19, 0)
  circle A0 centre (14, 5) radius 1.6 projected
  circle A1 centre (14, 5) radius 1.6
  circle A2 centre (-126, 5) radius 1.6 projected
  circle A3 centre (-126, 5) radius 1.6
  line L6 (-131, 0) -> (-131, 24) projected
  line L7 (-131, 0) -> (-131, 10)
  line L8 (-131, 10) -> (-112, 10)
  line L9 (-112, 0) -> (-112, 69) projected
  line L10 (-112, 0) -> (-131, 0)
  line L11 (-112, 10) -> (-112, 0)
  point P0 (-115.7758, -2)
  dimension "d365" = 10
  dimension "d366" = 10
extrude "Extrusion30" add sketch "Sketch35" along normal blind 2
sketch "Sketch36" plane through (24.278, 2, -3.7758) normal (-1, 0, 0) x (0, 0, 1)
  line L0 (0, 0) -> (0, 69) projected
  line L1 (0, 0) -> (0, 10)
  line L2 (0, 10) -> (27, 10)
  line L3 (27, 0) -> (27, 69) projected
  line L4 (27, 0) -> (0, 0) projected
  line L5 (27, 9.9631) -> (27, 0)
  line L6 (27, 0) -> (0, 0)
  circle A0 centre (14, 5) radius 1.6 projected
  circle A1 centre (14, 5) radius 1.6
  line L7 (-112, 0) -> (-112, 69) projected
  line L8 (-112, 0) -> (-112, 10)
  line L9 (-112, 10) -> (-139, 9.9631)
  line L10 (-139, 0) -> (-139, 69) projected
  line L11 (-139, 9.9631) -> (-139, 0)
  line L12 (-112, 0) -> (-139, 0) projected
  line L13 (-139, 0) -> (-112, 0)
  circle A2 centre (-126, 5) radius 1.6 projected
  circle A3 centre (-126, 5) radius 1.6
  point P0 (3.7758, -2)
  dimension "d369" = 10
  dimension "d370" = 10
extrude "Extrusion31" add sketch "Sketch36" along normal blind 2
equation "\"d80\" = d1"
equation "\"d8\" = d7"
equation "\"d9\" = d16"
equation "\"d11\" = d8"
equation "\"d13\" = d11"
equation "\"d14\" = d16"
equation "\"d17\" = d11"
equation "\"d18\" = d17"
equation "\"d19\" = d14"
equation "\"d20\" = d7"
properties material "ABS Plastic"
